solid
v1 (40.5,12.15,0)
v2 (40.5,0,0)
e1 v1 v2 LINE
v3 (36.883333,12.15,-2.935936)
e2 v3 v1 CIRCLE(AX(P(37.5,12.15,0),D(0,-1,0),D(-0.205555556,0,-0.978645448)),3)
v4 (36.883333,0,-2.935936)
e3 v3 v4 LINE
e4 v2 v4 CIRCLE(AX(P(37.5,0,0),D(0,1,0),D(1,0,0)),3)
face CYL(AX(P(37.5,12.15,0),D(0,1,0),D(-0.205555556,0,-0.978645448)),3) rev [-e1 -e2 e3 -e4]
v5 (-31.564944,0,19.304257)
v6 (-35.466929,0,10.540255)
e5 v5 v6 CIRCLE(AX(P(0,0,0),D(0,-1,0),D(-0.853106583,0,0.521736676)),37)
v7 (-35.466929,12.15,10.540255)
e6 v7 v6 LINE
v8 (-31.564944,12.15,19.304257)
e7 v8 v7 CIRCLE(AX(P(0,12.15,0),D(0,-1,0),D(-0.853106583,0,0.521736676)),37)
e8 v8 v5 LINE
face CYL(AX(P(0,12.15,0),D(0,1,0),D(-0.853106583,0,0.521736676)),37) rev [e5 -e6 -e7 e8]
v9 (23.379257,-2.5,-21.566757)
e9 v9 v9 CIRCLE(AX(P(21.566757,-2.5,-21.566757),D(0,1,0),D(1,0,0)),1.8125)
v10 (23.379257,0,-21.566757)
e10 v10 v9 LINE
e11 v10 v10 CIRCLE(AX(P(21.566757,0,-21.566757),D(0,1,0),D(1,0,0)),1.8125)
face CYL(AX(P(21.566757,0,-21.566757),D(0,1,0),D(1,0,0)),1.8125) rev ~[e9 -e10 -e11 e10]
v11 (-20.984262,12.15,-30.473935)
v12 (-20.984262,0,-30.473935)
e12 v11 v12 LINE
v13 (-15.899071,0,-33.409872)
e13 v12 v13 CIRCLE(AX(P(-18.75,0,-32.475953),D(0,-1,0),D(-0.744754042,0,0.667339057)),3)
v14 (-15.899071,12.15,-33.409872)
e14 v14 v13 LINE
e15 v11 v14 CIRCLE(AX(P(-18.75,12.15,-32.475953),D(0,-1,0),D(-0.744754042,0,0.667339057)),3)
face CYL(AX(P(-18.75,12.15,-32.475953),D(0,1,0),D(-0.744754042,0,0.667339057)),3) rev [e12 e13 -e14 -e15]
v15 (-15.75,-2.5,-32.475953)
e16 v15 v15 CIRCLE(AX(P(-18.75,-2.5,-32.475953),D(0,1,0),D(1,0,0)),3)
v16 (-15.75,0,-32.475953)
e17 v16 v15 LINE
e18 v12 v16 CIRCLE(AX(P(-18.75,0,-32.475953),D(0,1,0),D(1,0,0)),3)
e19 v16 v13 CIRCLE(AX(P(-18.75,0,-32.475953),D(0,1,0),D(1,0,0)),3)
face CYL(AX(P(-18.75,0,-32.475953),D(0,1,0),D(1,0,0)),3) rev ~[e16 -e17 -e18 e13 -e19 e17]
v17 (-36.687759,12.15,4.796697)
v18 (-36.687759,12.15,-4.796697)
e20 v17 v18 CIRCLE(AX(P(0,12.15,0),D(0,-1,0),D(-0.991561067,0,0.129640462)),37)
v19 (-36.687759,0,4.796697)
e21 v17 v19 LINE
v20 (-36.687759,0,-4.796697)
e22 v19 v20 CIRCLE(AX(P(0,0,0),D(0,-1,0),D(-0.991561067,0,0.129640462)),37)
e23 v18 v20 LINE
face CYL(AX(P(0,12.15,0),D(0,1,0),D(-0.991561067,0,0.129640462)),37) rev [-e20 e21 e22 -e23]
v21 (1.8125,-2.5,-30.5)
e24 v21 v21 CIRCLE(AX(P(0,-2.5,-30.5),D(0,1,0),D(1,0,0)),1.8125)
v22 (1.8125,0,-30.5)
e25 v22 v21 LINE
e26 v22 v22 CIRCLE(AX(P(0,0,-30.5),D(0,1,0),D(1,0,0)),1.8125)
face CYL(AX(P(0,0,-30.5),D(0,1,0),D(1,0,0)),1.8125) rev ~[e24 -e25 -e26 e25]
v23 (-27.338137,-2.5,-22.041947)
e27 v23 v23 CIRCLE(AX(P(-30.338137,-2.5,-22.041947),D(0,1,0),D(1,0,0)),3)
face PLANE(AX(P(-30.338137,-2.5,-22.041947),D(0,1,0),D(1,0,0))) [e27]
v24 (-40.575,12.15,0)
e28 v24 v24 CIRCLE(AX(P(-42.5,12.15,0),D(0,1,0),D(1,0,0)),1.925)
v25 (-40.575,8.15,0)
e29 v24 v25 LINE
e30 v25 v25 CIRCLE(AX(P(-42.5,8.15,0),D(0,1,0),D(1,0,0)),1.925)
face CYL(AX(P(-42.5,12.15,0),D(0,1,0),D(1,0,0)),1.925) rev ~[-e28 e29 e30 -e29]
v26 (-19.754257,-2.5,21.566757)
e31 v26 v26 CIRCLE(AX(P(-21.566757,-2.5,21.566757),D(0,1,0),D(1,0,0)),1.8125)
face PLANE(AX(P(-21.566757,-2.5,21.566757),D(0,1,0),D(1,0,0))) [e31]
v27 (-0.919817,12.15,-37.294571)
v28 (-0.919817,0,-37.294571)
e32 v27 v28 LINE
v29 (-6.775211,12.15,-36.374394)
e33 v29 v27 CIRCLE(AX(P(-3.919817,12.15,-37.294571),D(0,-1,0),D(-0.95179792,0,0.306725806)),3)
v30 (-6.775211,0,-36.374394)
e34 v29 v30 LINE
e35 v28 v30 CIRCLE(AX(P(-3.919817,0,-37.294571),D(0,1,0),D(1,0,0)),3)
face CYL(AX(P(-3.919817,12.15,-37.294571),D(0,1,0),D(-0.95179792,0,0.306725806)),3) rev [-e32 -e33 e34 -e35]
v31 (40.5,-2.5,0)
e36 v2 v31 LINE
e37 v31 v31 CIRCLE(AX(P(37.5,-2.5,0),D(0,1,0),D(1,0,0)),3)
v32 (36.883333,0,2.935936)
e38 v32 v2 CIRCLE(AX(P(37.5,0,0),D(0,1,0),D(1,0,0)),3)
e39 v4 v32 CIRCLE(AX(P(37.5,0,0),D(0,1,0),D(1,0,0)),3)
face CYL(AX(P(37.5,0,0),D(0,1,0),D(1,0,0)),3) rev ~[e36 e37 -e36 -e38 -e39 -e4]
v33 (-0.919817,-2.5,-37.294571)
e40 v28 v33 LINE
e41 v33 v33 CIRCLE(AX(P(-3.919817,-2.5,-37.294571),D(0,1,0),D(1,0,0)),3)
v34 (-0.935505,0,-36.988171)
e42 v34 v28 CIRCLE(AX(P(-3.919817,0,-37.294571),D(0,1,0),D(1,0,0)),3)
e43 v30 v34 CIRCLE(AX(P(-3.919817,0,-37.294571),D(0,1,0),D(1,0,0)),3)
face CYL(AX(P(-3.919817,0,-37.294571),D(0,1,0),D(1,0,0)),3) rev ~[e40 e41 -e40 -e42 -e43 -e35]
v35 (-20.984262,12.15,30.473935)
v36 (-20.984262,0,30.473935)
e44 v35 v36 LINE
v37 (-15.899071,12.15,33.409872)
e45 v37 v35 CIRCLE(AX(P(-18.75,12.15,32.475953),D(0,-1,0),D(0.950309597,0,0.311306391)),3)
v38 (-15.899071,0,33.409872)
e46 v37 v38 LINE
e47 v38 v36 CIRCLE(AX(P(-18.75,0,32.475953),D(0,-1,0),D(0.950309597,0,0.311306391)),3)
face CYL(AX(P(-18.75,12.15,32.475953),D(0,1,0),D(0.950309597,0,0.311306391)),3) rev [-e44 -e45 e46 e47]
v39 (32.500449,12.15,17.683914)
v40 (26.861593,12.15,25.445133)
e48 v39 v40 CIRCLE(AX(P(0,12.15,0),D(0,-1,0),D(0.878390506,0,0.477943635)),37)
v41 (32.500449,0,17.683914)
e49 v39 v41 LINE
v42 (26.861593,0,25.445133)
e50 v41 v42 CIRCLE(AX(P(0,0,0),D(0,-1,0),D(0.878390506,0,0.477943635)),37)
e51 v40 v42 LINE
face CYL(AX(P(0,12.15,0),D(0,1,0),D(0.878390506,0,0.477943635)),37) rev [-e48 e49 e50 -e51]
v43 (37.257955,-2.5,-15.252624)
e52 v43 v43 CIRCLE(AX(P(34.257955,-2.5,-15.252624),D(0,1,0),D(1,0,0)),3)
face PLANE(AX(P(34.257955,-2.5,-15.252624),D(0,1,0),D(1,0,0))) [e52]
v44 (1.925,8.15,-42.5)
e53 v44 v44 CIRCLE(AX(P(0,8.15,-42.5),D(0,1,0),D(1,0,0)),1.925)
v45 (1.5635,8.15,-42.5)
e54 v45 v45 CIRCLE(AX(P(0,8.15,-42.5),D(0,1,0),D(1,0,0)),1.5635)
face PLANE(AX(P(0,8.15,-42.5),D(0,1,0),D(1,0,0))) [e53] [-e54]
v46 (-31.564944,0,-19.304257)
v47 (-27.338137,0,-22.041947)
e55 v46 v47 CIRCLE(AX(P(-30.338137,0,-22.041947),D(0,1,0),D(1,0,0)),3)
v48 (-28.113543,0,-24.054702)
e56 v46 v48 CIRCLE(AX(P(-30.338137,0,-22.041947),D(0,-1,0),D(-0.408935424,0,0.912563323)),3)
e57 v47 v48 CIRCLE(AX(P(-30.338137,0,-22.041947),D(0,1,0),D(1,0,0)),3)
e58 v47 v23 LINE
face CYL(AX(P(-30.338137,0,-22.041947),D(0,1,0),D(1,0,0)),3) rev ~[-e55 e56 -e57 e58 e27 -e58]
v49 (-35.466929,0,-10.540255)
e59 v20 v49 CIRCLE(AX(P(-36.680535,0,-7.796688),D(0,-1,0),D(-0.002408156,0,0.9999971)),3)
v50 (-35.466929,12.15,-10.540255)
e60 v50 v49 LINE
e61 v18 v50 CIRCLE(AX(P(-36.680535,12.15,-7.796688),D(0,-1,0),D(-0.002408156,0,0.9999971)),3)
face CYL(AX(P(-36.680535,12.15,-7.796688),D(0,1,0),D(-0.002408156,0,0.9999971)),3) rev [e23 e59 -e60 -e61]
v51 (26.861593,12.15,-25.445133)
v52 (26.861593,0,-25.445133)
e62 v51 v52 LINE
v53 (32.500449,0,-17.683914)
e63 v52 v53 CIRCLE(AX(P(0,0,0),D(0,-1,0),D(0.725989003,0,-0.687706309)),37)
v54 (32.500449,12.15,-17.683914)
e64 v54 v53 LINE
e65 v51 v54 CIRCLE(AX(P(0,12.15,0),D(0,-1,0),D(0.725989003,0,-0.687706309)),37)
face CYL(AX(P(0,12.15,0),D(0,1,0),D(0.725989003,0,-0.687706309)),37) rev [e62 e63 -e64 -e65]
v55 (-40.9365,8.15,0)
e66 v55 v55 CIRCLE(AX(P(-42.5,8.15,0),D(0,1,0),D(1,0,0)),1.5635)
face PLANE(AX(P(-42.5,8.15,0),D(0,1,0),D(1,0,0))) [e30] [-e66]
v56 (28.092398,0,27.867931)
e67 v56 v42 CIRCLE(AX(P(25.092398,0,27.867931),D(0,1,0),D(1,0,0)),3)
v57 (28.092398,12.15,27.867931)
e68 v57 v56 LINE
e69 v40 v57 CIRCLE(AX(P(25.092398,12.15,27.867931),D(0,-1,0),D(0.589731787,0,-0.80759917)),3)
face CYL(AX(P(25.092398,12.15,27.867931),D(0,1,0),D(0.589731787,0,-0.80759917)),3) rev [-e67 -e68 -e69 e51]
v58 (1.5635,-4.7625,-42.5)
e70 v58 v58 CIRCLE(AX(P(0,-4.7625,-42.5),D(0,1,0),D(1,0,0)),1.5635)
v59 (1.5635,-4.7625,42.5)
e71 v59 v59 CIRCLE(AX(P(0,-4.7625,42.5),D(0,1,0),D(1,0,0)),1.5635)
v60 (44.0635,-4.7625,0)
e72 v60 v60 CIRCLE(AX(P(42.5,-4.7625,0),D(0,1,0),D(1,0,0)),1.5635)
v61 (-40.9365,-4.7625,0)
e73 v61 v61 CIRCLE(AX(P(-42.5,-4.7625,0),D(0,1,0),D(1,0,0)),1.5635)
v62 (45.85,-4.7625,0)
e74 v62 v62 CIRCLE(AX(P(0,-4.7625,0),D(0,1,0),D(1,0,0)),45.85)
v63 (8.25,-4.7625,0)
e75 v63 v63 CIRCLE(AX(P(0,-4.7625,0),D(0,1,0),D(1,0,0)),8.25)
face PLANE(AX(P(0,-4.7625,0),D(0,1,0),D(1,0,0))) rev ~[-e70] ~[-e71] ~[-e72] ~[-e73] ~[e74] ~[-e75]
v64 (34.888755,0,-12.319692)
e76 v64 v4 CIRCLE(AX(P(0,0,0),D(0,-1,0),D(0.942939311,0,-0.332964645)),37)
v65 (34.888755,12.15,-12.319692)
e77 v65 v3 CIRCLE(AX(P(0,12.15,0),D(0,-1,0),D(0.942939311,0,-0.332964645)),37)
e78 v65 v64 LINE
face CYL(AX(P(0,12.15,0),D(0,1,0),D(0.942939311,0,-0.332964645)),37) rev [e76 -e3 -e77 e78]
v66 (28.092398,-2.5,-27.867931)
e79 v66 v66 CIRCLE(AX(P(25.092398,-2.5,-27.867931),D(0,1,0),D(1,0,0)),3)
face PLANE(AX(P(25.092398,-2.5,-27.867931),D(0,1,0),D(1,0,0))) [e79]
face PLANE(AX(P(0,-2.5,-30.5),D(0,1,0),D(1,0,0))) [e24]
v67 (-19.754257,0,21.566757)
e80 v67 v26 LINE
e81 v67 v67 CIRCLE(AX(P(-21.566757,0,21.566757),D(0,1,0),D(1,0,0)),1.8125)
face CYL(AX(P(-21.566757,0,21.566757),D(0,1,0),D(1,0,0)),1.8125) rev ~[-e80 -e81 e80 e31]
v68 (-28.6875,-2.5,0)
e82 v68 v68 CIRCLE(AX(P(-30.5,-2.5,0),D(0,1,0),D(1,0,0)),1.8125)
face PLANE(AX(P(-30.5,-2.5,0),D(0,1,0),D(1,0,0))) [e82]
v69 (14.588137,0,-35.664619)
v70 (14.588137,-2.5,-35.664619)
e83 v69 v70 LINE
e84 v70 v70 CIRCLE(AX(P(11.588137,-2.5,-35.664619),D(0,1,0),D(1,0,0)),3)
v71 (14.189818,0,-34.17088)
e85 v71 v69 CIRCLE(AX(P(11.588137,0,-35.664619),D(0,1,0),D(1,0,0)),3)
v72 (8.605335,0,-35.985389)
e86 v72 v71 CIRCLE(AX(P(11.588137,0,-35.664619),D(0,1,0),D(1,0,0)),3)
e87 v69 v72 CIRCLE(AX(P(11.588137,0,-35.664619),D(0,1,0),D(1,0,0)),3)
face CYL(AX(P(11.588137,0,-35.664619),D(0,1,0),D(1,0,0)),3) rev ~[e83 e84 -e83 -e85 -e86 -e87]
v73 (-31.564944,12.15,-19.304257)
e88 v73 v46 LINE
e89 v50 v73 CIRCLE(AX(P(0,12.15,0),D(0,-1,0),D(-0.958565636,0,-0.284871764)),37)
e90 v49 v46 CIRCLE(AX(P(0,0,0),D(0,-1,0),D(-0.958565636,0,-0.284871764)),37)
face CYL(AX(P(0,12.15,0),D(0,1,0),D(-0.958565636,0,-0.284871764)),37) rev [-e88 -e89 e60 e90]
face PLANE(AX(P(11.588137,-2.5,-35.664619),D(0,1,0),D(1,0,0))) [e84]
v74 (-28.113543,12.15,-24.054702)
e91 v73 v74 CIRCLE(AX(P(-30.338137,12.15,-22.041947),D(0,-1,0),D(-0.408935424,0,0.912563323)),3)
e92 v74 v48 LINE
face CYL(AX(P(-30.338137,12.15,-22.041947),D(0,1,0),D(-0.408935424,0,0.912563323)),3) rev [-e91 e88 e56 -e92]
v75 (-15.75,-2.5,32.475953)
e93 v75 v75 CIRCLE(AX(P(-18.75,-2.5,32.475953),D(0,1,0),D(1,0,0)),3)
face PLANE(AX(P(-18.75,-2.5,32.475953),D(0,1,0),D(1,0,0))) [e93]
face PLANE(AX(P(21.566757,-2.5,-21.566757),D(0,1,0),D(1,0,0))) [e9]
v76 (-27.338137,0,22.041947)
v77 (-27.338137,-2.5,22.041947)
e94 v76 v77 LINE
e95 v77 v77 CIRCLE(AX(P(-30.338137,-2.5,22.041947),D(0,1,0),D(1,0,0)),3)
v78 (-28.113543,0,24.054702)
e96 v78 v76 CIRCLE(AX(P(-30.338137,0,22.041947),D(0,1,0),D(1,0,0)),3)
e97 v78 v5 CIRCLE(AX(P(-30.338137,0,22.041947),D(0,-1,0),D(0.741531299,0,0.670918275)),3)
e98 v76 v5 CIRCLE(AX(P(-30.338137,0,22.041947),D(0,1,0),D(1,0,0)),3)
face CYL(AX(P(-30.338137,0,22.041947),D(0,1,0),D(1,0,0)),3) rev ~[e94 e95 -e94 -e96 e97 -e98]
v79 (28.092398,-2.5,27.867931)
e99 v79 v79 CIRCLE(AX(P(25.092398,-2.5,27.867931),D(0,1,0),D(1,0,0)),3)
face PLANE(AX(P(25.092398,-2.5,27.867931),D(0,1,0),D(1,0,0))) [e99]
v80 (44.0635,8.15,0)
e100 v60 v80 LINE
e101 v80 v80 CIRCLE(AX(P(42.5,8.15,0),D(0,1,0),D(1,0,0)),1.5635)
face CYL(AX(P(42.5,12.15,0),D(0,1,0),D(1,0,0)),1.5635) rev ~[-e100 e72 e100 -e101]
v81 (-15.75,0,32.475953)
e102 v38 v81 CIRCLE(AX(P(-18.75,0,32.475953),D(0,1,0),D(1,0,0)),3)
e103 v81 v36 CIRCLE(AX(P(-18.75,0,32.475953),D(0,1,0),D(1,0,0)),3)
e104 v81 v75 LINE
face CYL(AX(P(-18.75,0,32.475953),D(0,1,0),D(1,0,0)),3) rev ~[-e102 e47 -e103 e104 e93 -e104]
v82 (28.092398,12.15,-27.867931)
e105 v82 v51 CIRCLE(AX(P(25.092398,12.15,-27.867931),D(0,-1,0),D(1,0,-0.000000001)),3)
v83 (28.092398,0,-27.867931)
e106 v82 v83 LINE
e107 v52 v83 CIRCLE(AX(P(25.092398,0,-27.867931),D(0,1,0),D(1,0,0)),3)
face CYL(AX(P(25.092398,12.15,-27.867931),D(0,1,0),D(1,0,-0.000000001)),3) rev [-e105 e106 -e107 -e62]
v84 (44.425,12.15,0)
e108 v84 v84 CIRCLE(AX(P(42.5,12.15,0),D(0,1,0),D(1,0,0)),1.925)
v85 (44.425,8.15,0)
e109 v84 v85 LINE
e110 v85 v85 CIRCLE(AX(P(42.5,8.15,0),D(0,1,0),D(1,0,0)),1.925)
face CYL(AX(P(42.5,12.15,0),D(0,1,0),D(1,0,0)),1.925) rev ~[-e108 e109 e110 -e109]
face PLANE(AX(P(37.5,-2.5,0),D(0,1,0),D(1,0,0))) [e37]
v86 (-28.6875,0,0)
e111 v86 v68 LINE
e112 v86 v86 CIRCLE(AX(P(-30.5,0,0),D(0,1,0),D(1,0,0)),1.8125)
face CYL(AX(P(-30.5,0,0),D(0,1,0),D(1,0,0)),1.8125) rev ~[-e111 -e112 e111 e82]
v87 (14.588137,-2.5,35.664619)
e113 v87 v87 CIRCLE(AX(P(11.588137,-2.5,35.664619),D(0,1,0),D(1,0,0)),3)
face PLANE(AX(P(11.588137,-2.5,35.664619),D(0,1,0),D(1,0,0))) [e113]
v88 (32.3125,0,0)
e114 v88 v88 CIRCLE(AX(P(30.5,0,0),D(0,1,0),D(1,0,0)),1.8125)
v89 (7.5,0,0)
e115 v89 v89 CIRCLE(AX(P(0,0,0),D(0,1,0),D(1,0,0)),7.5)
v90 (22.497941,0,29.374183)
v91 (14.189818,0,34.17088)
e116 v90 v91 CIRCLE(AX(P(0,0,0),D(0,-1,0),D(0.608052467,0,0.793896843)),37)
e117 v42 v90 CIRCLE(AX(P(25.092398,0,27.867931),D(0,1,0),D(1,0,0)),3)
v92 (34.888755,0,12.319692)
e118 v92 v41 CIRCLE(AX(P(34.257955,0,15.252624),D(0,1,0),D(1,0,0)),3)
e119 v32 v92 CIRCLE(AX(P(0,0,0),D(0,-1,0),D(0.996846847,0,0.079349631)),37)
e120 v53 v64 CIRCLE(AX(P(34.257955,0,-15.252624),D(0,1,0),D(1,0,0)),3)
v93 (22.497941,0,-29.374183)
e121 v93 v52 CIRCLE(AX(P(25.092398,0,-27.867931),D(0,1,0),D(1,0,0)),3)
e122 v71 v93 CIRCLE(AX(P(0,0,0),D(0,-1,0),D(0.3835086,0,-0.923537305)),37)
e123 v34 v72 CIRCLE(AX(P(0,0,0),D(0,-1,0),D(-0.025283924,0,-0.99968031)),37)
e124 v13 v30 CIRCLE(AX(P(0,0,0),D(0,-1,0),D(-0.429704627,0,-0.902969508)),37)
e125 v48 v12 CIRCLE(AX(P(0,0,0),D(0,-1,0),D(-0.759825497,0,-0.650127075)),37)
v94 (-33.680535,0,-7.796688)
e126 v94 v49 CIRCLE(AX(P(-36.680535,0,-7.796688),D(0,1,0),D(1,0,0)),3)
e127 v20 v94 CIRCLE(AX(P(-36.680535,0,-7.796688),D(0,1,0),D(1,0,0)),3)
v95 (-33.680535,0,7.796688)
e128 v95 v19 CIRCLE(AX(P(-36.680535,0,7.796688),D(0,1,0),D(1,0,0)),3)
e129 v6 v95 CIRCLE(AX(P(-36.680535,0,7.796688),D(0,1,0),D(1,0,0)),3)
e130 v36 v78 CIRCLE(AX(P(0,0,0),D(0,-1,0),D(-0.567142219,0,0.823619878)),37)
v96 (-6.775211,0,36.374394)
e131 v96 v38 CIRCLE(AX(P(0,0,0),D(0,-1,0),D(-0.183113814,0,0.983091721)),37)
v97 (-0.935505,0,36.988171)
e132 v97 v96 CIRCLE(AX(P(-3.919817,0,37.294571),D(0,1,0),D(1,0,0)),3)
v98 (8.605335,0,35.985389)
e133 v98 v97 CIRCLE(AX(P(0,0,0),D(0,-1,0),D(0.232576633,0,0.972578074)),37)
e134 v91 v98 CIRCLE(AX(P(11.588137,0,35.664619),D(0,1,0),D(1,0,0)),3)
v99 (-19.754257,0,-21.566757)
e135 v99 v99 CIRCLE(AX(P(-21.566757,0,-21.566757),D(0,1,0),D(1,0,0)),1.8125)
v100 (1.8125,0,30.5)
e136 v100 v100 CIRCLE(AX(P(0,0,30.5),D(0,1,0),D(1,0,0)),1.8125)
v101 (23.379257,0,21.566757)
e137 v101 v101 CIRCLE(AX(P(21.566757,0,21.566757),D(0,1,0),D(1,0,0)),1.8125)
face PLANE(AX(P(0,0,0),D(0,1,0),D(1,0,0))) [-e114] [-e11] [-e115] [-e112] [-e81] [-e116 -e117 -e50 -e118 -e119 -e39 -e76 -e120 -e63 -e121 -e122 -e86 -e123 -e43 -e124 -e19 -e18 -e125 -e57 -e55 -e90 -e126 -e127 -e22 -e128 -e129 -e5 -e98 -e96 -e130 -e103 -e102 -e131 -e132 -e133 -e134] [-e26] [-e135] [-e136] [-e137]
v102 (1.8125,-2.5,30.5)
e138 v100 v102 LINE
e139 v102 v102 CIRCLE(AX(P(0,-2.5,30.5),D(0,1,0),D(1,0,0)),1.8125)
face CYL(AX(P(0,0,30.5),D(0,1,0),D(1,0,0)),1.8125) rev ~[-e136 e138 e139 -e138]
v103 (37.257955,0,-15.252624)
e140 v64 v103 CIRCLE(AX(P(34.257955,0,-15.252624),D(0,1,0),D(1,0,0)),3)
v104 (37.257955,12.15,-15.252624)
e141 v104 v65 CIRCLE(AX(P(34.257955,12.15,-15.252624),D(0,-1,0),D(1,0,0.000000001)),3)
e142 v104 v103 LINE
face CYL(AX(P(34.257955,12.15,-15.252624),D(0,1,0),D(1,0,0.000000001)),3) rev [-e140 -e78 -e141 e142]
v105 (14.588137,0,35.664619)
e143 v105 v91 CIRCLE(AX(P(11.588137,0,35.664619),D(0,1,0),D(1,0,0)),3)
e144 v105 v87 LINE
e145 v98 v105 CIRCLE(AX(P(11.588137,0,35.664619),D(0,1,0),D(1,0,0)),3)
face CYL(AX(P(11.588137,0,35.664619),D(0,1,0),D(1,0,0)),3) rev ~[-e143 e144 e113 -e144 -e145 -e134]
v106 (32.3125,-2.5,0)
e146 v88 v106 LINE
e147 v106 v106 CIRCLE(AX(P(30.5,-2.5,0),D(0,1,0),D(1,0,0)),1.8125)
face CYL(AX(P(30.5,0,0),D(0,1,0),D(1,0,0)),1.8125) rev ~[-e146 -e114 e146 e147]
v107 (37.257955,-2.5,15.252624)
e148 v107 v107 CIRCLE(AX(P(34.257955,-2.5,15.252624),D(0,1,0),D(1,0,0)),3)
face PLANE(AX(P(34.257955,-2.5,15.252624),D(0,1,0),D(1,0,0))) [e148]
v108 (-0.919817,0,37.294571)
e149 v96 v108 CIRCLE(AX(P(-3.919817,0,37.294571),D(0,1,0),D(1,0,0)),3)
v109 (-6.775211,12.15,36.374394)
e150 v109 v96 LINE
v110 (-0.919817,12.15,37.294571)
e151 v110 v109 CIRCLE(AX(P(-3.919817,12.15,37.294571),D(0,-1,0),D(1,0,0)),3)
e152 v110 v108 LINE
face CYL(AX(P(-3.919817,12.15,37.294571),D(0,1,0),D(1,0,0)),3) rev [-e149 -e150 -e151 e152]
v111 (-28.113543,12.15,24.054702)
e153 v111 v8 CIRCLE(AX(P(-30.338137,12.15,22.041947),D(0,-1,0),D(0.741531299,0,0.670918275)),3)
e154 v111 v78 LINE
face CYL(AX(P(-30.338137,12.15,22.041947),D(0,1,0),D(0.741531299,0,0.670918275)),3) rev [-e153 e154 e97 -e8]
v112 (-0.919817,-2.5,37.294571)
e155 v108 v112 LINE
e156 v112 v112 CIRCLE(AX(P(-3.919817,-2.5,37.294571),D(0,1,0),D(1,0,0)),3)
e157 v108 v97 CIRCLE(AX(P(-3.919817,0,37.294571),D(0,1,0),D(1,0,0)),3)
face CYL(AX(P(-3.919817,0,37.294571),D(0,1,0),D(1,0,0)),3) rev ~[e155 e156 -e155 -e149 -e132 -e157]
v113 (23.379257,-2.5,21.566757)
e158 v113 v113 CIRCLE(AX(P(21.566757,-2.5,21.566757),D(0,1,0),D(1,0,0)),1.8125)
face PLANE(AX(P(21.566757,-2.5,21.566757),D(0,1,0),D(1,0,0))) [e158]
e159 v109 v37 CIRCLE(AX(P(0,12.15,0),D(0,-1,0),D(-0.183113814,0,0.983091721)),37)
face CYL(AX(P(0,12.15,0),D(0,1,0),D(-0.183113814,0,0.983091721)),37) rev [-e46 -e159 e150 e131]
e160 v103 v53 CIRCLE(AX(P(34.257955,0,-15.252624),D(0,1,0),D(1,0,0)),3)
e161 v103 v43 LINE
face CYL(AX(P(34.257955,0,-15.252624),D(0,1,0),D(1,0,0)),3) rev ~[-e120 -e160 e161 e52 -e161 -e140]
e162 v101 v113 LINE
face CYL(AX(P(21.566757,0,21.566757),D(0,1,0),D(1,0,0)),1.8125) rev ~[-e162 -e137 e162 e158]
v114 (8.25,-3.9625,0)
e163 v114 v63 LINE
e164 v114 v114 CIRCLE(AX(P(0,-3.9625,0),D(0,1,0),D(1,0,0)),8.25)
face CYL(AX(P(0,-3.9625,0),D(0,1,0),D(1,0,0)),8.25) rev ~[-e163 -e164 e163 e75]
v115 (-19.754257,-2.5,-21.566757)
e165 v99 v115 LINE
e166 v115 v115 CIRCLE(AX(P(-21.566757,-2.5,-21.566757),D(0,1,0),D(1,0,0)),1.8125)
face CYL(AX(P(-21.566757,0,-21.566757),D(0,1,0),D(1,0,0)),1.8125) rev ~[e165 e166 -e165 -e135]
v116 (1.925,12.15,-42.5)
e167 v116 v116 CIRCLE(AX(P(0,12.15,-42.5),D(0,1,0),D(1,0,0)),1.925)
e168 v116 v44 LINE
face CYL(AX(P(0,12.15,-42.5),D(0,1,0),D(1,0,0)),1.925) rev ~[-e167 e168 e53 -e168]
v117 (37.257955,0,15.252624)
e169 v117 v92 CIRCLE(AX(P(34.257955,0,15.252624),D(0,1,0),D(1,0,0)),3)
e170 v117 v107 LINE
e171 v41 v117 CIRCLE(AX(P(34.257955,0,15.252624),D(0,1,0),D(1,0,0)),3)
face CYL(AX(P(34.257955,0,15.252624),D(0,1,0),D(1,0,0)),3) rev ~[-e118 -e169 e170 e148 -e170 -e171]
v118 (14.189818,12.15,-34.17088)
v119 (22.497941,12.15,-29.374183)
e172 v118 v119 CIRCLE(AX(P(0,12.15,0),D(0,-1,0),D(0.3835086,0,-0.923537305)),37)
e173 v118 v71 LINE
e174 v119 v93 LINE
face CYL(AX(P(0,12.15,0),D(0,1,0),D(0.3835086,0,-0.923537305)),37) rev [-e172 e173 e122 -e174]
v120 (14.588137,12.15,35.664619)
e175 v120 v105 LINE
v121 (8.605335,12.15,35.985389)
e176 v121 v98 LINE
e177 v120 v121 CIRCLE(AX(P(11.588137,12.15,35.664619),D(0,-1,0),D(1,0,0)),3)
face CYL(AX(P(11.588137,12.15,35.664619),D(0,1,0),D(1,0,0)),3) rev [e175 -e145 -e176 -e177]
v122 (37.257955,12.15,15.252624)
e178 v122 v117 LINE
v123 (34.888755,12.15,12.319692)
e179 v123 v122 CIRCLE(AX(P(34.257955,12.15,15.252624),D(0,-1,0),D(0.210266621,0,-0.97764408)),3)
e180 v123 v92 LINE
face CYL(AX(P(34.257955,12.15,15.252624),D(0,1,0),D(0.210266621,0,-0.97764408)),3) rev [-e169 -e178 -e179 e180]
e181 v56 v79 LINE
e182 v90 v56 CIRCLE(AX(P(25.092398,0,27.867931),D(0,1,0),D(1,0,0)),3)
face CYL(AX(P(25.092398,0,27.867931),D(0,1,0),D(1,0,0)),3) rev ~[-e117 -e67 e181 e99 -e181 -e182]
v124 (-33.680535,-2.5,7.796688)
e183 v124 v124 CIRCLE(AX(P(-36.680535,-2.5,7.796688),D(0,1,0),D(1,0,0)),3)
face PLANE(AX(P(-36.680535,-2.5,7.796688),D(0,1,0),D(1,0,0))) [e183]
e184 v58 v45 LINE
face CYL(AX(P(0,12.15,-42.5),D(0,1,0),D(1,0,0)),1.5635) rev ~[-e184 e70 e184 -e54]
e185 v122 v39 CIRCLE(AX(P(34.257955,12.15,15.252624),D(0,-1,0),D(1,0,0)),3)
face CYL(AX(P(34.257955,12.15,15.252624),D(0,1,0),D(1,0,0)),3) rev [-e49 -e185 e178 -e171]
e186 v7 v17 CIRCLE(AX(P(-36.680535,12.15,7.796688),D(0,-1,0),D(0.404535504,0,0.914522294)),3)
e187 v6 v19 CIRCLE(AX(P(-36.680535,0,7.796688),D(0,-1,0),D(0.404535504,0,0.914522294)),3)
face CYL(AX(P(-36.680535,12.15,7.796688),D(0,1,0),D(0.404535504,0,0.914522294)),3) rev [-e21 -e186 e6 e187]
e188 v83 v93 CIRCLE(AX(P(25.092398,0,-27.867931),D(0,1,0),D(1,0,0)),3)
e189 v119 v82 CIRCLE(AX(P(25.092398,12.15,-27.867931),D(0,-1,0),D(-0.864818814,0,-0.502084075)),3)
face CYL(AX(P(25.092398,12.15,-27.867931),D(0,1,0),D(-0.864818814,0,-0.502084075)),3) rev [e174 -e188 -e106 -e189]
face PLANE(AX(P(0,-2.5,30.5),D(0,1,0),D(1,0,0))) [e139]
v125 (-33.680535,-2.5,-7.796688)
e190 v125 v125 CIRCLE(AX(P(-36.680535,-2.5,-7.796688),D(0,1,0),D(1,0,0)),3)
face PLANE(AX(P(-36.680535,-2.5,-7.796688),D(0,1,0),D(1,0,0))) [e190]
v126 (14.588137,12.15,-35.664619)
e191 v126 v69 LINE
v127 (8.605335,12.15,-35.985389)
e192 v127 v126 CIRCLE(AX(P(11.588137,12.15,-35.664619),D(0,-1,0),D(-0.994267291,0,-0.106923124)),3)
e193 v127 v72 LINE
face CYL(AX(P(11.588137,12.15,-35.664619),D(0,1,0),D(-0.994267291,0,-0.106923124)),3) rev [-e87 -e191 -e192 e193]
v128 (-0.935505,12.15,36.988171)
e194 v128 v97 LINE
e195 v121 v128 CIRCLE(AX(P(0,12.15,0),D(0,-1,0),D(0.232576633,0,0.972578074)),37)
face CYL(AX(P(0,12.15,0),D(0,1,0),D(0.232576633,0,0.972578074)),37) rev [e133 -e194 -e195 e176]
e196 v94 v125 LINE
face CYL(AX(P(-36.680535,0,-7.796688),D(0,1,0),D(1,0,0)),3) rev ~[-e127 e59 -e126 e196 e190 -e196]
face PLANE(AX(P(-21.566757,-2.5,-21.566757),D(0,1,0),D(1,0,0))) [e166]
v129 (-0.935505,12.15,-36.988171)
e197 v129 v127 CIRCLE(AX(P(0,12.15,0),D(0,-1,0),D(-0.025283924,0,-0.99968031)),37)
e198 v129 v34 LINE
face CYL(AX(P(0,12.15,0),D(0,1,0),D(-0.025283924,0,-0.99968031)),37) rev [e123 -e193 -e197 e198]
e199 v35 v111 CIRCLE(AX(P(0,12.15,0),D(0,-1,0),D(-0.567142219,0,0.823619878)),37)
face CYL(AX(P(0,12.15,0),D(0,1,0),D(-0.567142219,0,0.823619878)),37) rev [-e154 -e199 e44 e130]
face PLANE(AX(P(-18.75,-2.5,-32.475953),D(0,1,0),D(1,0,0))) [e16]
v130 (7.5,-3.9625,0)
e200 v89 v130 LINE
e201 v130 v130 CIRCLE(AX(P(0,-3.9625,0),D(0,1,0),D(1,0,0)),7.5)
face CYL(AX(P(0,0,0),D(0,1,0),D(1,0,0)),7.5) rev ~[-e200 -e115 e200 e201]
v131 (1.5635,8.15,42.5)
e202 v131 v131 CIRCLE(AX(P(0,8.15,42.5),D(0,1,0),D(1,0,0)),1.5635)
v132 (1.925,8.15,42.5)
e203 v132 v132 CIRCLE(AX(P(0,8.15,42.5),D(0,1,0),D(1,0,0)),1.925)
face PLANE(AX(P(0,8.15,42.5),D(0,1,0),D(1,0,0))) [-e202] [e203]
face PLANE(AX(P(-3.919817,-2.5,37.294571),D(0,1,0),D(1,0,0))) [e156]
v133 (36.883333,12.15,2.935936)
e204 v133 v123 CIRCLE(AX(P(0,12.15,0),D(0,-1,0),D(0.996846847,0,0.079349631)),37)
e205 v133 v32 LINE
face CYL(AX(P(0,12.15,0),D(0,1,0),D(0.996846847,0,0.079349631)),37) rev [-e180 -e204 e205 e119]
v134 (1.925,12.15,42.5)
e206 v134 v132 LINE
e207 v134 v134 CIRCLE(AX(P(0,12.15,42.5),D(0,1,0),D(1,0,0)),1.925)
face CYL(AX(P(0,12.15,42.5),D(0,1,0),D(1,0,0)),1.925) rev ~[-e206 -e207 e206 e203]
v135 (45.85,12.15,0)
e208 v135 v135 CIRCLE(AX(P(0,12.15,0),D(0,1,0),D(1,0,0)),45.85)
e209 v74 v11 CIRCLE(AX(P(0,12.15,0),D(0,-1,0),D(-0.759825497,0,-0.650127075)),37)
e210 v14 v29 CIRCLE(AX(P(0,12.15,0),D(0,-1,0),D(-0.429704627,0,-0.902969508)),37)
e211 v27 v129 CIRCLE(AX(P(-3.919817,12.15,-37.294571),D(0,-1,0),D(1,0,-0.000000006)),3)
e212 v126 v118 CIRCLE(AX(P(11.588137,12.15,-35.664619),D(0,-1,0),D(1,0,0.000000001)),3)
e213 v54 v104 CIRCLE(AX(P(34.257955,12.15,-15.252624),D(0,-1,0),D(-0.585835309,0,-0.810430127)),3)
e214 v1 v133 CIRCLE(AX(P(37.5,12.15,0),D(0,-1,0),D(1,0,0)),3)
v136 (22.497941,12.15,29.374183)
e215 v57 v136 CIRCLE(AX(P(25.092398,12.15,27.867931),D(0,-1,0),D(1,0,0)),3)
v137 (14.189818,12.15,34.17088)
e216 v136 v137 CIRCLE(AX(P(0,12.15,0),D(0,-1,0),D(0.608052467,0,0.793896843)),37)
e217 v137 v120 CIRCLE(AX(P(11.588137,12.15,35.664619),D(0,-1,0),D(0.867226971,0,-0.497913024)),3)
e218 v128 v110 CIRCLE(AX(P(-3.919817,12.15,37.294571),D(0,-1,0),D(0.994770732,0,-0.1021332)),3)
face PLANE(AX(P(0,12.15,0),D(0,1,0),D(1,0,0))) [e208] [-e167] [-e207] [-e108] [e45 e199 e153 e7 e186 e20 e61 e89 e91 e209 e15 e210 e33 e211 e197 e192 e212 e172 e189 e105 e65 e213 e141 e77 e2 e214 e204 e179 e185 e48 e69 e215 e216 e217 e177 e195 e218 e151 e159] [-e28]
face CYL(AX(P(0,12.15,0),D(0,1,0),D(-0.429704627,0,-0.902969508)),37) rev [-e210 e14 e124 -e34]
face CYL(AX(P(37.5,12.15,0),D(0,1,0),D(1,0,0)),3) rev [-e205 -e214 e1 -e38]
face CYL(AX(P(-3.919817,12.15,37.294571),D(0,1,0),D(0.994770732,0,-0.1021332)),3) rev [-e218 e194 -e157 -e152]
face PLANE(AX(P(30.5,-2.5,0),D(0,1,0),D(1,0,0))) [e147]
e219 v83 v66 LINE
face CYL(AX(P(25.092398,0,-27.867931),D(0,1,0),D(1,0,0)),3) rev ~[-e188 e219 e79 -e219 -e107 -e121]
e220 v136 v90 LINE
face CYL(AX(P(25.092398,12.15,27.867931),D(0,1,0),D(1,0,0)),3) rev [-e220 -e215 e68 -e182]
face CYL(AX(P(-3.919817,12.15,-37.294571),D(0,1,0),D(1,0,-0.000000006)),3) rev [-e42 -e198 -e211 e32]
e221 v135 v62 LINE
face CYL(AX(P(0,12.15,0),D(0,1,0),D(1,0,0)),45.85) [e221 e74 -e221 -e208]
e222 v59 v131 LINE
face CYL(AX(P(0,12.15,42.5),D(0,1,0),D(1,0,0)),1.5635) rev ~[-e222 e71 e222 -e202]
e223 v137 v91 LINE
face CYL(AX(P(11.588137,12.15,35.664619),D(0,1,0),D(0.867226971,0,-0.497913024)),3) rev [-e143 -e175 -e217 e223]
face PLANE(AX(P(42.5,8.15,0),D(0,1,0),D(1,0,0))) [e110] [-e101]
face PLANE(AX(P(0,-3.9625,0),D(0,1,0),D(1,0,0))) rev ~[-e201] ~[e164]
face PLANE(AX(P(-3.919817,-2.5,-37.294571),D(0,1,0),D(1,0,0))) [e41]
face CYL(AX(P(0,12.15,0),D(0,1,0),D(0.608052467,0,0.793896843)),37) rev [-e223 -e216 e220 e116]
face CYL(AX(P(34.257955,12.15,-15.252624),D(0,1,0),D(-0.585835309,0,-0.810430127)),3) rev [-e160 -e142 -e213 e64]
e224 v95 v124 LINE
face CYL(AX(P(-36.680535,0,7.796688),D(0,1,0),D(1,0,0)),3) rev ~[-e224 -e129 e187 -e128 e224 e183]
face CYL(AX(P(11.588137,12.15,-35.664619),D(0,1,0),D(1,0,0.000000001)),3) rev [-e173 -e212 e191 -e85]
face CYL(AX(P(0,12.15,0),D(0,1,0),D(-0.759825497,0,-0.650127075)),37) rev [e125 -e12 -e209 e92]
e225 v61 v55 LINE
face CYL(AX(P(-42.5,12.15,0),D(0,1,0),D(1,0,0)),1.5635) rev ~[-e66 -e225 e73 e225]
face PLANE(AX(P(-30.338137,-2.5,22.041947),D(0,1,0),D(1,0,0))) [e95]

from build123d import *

# Parameters (mm, degrees)
SKETCH1_R           = 45.85
SKETCH1_R_2         = 1.5635
SKETCH1_R_3         = 7.5
BOSS_EXTRUDE1_DEPTH = 4.7625
SKETCH1_6_R         = 3
SKETCH1_6_R_2       = 1.8125
CUT_EXTRUDE1_DEPTH  = 2.5
BOSS_EXTRUDE2_START = 12.15
SKETCH1_7_R         = 45.85
SKETCH1_7_R_2       = 1.5635
BOSS_EXTRUDE2_DEPTH = 12.15
SKETCH2_R           = 1.925
CUT_EXTRUDE2_DEPTH  = 4
CUT_EXTRUDE3_START  = -3.9625
SKETCH1_8_R         = 8.25
SKETCH1_8_R_2       = 7.5
CUT_EXTRUDE3_DEPTH  = 0.8


with BuildPart() as part:
    # Sketch1 → Boss-Extrude1 (new body)
    with BuildSketch(Plane(origin=(0, 0, 0), x_dir=(1, 0, 0), z_dir=(0, 1, 0))):
        Circle(SKETCH1_R)
        with Locations((0, -42.5)):
            Circle(SKETCH1_R_2, mode=Mode.SUBTRACT)
        with Locations((-42.5, 0)):
            Circle(SKETCH1_R_2, mode=Mode.SUBTRACT)
        with Locations((42.5, 0)):
            Circle(SKETCH1_R_2, mode=Mode.SUBTRACT)
        with Locations((0, 42.5)):
            Circle(SKETCH1_R_2, mode=Mode.SUBTRACT)
        Circle(SKETCH1_R_3, mode=Mode.SUBTRACT)
    extrude(amount=-BOSS_EXTRUDE1_DEPTH)

    # Sketch1<6> → Cut-Extrude1 (cut)
    with BuildSketch(Plane(origin=(0, 0, 0), x_dir=(1, 0, 0), z_dir=(0, 1, 0))):
        with Locations((37.5, 0)):
            Circle(SKETCH1_6_R)
        with Locations((34.257954662, 15.252624115)):
            Circle(SKETCH1_6_R)
        with Locations((34.257954662, -15.252624115)):
            Circle(SKETCH1_6_R)
        with Locations((25.092397738, 27.867930955)):
            Circle(SKETCH1_6_R)
        with Locations((25.092397738, -27.867930955)):
            Circle(SKETCH1_6_R)
        with Locations((11.588137289, 35.664619361)):
            Circle(SKETCH1_6_R)
        with Locations((11.588137289, -35.664619361)):
            Circle(SKETCH1_6_R)
        with Locations((-3.919817373, 37.294571076)):
            Circle(SKETCH1_6_R)
        with Locations((-3.919817373, -37.294571076)):
            Circle(SKETCH1_6_R)
        with Locations((-18.75, 32.475952642)):
            Circle(SKETCH1_6_R)
        with Locations((-18.75, -32.475952642)):
            Circle(SKETCH1_6_R)
        with Locations((-30.338137289, 22.041946961)):
            Circle(SKETCH1_6_R)
        with Locations((-30.338137289, -22.041946961)):
            Circle(SKETCH1_6_R)
        with Locations((-36.680535028, 7.796688406)):
            Circle(SKETCH1_6_R)
        with Locations((-36.680535028, -7.796688406)):
            Circle(SKETCH1_6_R)
        with Locations((30.5, 0)):
            Circle(SKETCH1_6_R_2)
        with Locations((21.566756826, -21.566756826)):
            Circle(SKETCH1_6_R_2)
        with Locations((0, -30.5)):
            Circle(SKETCH1_6_R_2)
        with Locations((-21.566756826, -21.566756826)):
            Circle(SKETCH1_6_R_2)
        with Locations((-30.5, 0)):
            Circle(SKETCH1_6_R_2)
        with Locations((-21.566756826, 21.566756826)):
            Circle(SKETCH1_6_R_2)
        with Locations((0, 30.5)):
            Circle(SKETCH1_6_R_2)
        with Locations((21.566756826, 21.566756826)):
            Circle(SKETCH1_6_R_2)
    extrude(amount=-CUT_EXTRUDE1_DEPTH, mode=Mode.SUBTRACT)

    # Sketch1<7> → Boss-Extrude2 (add)
    with BuildSketch(Plane(origin=(0, 0, 0), x_dir=(1, 0, 0), z_dir=(0, 1, 0)).offset(BOSS_EXTRUDE2_START)):
        Circle(SKETCH1_7_R)
        with Locations((0, -42.5)):
            Circle(SKETCH1_7_R_2, mode=Mode.SUBTRACT)
        with Locations((-42.5, 0)):
            Circle(SKETCH1_7_R_2, mode=Mode.SUBTRACT)
        with Locations((42.5, 0)):
            Circle(SKETCH1_7_R_2, mode=Mode.SUBTRACT)
        with BuildLine():
            ThreePointArc((36.883333333, 2.935936345), (39.39076704, 2.32916294), (40.5, 0))
            ThreePointArc((40.5, 0), (39.39076704, -2.32916294), (36.883333333, -2.935936345))
            ThreePointArc((36.883333333, -2.935936345), (36.191461227, -7.69273256), (34.888754523, -12.319691873))
            ThreePointArc((34.888754523, -12.319691873), (36.59166411, -13.367471546), (37.257954662, -15.252624115))
            ThreePointArc((37.257954662, -15.252624115), (35.6231437, -17.924001829), (32.500448736, -17.683914497))
            ThreePointArc((32.500448736, -17.683914497), (29.933628792, -21.748054335), (26.861593101, -25.445133446))
            ThreePointArc((26.861593101, -25.445133446), (27.767055295, -26.50917897), (28.092397738, -27.867930955))
            ThreePointArc((28.092397738, -27.867930955), (25.872343464, -30.764771418), (22.497941295, -29.37418318))
            ThreePointArc((22.497941295, -29.37418318), (18.5, -32.04293994), (14.189818202, -34.170880284))
            ThreePointArc((14.189818202, -34.170880284), (14.486847583, -34.891651942), (14.588137289, -35.664619361))
            ThreePointArc((14.588137289, -35.664619361), (11.748752331, -38.660316744), (8.605335417, -35.985388734))
            ThreePointArc((8.605335417, -35.985388734), (3.867553141, -36.797310129), (-0.935505175, -36.988171489))
            ThreePointArc((-0.935505175, -36.988171489), (-0.92374189, -37.141170608), (-0.919817373, -37.294571076))
            ThreePointArc((-0.919817373, -37.294571076), (-4.385552663, -40.258199029), (-6.775211132, -36.37439366))
            ThreePointArc((-6.775211132, -36.37439366), (-11.433628792, -35.189091103), (-15.899071208, -33.409871815))
            ThreePointArc((-15.899071208, -33.409871815), (-20.25, -35.074028853), (-20.984262125, -30.47393547))
            ThreePointArc((-20.984262125, -30.47393547), (-24.757832435, -27.496358543), (-28.113543391, -24.054701786))
            ThreePointArc((-28.113543391, -24.054701786), (-32.765188272, -23.805302718), (-31.564943561, -19.304256991))
            ThreePointArc((-31.564943561, -19.304256991), (-33.801181933, -15.049255794), (-35.466928517, -10.540255288))
            ThreePointArc((-35.466928517, -10.540255288), (-39.61497783, -8.420423478), (-36.687759497, -4.796697105))
            ThreePointArc((-36.687759497, -4.796697105), (-37, 0), (-36.687759497, 4.796697105))
            ThreePointArc((-36.687759497, 4.796697105), (-39.61497783, 8.420423478), (-35.466928517, 10.540255288))
            ThreePointArc((-35.466928517, 10.540255288), (-33.801181933, 15.049255794), (-31.564943561, 19.304256991))
            ThreePointArc((-31.564943561, 19.304256991), (-32.765188272, 23.805302718), (-28.113543391, 24.054701786))
            ThreePointArc((-28.113543391, 24.054701786), (-24.757832435, 27.496358543), (-20.984262125, 30.47393547))
            ThreePointArc((-20.984262125, 30.47393547), (-20.25, 35.074028853), (-15.899071208, 33.409871815))
            ThreePointArc((-15.899071208, 33.409871815), (-11.433628792, 35.189091103), (-6.775211132, 36.37439366))
            ThreePointArc((-6.775211132, 36.37439366), (-4.385552663, 40.258199029), (-0.919817373, 37.294571076))
            ThreePointArc((-0.919817373, 37.294571076), (-0.92374189, 37.141170608), (-0.935505175, 36.988171489))
            ThreePointArc((-0.935505175, 36.988171489), (3.867553141, 36.797310129), (8.605335417, 35.985388734))
            ThreePointArc((8.605335417, 35.985388734), (11.748752331, 38.660316744), (14.588137289, 35.664619361))
            ThreePointArc((14.588137289, 35.664619361), (14.486847583, 34.891651942), (14.189818202, 34.170880284))
            ThreePointArc((14.189818202, 34.170880284), (18.5, 32.04293994), (22.497941295, 29.37418318))
            ThreePointArc((22.497941295, 29.37418318), (25.872343464, 30.764771418), (28.092397738, 27.867930955))
            ThreePointArc((28.092397738, 27.867930955), (27.767055295, 26.50917897), (26.861593101, 25.445133446))
            ThreePointArc((26.861593101, 25.445133446), (29.933628792, 21.748054335), (32.500448736, 17.683914497))
            ThreePointArc((32.500448736, 17.683914497), (35.6231437, 17.924001829), (37.257954662, 15.252624115))
            ThreePointArc((37.257954662, 15.252624115), (36.59166411, 13.367471546), (34.888754523, 12.319691873))
            ThreePointArc((34.888754523, 12.319691873), (36.191461227, 7.69273256), (36.883333333, 2.935936345))
        make_face(mode=Mode.SUBTRACT)
        with Locations((0, 42.5)):
            Circle(SKETCH1_7_R_2, mode=Mode.SUBTRACT)
    extrude(amount=-BOSS_EXTRUDE2_DEPTH)

    # Sketch2 → Cut-Extrude2 (cut)
    with BuildSketch(Plane(origin=(0, 12.15, 0), x_dir=(1, 0, 0), z_dir=(0, 1, 0))):
        with Locations((-42.5, 0)):
            Circle(SKETCH2_R)
        with Locations((0, 42.5)):
            Circle(SKETCH2_R)
        with Locations((42.5, 0)):
            Circle(SKETCH2_R)
        with Locations((0, -42.5)):
            Circle(SKETCH2_R)
    extrude(amount=-CUT_EXTRUDE2_DEPTH, mode=Mode.SUBTRACT)

    # Sketch1<8> → Cut-Extrude3 (cut)
    with BuildSketch(Plane(origin=(0, 0, 0), x_dir=(1, 0, 0), z_dir=(0, 1, 0)).offset(CUT_EXTRUDE3_START)):
        Circle(SKETCH1_8_R)
        Circle(SKETCH1_8_R_2, mode=Mode.SUBTRACT)
    extrude(amount=-CUT_EXTRUDE3_DEPTH, mode=Mode.SUBTRACT)


solid = part.part
